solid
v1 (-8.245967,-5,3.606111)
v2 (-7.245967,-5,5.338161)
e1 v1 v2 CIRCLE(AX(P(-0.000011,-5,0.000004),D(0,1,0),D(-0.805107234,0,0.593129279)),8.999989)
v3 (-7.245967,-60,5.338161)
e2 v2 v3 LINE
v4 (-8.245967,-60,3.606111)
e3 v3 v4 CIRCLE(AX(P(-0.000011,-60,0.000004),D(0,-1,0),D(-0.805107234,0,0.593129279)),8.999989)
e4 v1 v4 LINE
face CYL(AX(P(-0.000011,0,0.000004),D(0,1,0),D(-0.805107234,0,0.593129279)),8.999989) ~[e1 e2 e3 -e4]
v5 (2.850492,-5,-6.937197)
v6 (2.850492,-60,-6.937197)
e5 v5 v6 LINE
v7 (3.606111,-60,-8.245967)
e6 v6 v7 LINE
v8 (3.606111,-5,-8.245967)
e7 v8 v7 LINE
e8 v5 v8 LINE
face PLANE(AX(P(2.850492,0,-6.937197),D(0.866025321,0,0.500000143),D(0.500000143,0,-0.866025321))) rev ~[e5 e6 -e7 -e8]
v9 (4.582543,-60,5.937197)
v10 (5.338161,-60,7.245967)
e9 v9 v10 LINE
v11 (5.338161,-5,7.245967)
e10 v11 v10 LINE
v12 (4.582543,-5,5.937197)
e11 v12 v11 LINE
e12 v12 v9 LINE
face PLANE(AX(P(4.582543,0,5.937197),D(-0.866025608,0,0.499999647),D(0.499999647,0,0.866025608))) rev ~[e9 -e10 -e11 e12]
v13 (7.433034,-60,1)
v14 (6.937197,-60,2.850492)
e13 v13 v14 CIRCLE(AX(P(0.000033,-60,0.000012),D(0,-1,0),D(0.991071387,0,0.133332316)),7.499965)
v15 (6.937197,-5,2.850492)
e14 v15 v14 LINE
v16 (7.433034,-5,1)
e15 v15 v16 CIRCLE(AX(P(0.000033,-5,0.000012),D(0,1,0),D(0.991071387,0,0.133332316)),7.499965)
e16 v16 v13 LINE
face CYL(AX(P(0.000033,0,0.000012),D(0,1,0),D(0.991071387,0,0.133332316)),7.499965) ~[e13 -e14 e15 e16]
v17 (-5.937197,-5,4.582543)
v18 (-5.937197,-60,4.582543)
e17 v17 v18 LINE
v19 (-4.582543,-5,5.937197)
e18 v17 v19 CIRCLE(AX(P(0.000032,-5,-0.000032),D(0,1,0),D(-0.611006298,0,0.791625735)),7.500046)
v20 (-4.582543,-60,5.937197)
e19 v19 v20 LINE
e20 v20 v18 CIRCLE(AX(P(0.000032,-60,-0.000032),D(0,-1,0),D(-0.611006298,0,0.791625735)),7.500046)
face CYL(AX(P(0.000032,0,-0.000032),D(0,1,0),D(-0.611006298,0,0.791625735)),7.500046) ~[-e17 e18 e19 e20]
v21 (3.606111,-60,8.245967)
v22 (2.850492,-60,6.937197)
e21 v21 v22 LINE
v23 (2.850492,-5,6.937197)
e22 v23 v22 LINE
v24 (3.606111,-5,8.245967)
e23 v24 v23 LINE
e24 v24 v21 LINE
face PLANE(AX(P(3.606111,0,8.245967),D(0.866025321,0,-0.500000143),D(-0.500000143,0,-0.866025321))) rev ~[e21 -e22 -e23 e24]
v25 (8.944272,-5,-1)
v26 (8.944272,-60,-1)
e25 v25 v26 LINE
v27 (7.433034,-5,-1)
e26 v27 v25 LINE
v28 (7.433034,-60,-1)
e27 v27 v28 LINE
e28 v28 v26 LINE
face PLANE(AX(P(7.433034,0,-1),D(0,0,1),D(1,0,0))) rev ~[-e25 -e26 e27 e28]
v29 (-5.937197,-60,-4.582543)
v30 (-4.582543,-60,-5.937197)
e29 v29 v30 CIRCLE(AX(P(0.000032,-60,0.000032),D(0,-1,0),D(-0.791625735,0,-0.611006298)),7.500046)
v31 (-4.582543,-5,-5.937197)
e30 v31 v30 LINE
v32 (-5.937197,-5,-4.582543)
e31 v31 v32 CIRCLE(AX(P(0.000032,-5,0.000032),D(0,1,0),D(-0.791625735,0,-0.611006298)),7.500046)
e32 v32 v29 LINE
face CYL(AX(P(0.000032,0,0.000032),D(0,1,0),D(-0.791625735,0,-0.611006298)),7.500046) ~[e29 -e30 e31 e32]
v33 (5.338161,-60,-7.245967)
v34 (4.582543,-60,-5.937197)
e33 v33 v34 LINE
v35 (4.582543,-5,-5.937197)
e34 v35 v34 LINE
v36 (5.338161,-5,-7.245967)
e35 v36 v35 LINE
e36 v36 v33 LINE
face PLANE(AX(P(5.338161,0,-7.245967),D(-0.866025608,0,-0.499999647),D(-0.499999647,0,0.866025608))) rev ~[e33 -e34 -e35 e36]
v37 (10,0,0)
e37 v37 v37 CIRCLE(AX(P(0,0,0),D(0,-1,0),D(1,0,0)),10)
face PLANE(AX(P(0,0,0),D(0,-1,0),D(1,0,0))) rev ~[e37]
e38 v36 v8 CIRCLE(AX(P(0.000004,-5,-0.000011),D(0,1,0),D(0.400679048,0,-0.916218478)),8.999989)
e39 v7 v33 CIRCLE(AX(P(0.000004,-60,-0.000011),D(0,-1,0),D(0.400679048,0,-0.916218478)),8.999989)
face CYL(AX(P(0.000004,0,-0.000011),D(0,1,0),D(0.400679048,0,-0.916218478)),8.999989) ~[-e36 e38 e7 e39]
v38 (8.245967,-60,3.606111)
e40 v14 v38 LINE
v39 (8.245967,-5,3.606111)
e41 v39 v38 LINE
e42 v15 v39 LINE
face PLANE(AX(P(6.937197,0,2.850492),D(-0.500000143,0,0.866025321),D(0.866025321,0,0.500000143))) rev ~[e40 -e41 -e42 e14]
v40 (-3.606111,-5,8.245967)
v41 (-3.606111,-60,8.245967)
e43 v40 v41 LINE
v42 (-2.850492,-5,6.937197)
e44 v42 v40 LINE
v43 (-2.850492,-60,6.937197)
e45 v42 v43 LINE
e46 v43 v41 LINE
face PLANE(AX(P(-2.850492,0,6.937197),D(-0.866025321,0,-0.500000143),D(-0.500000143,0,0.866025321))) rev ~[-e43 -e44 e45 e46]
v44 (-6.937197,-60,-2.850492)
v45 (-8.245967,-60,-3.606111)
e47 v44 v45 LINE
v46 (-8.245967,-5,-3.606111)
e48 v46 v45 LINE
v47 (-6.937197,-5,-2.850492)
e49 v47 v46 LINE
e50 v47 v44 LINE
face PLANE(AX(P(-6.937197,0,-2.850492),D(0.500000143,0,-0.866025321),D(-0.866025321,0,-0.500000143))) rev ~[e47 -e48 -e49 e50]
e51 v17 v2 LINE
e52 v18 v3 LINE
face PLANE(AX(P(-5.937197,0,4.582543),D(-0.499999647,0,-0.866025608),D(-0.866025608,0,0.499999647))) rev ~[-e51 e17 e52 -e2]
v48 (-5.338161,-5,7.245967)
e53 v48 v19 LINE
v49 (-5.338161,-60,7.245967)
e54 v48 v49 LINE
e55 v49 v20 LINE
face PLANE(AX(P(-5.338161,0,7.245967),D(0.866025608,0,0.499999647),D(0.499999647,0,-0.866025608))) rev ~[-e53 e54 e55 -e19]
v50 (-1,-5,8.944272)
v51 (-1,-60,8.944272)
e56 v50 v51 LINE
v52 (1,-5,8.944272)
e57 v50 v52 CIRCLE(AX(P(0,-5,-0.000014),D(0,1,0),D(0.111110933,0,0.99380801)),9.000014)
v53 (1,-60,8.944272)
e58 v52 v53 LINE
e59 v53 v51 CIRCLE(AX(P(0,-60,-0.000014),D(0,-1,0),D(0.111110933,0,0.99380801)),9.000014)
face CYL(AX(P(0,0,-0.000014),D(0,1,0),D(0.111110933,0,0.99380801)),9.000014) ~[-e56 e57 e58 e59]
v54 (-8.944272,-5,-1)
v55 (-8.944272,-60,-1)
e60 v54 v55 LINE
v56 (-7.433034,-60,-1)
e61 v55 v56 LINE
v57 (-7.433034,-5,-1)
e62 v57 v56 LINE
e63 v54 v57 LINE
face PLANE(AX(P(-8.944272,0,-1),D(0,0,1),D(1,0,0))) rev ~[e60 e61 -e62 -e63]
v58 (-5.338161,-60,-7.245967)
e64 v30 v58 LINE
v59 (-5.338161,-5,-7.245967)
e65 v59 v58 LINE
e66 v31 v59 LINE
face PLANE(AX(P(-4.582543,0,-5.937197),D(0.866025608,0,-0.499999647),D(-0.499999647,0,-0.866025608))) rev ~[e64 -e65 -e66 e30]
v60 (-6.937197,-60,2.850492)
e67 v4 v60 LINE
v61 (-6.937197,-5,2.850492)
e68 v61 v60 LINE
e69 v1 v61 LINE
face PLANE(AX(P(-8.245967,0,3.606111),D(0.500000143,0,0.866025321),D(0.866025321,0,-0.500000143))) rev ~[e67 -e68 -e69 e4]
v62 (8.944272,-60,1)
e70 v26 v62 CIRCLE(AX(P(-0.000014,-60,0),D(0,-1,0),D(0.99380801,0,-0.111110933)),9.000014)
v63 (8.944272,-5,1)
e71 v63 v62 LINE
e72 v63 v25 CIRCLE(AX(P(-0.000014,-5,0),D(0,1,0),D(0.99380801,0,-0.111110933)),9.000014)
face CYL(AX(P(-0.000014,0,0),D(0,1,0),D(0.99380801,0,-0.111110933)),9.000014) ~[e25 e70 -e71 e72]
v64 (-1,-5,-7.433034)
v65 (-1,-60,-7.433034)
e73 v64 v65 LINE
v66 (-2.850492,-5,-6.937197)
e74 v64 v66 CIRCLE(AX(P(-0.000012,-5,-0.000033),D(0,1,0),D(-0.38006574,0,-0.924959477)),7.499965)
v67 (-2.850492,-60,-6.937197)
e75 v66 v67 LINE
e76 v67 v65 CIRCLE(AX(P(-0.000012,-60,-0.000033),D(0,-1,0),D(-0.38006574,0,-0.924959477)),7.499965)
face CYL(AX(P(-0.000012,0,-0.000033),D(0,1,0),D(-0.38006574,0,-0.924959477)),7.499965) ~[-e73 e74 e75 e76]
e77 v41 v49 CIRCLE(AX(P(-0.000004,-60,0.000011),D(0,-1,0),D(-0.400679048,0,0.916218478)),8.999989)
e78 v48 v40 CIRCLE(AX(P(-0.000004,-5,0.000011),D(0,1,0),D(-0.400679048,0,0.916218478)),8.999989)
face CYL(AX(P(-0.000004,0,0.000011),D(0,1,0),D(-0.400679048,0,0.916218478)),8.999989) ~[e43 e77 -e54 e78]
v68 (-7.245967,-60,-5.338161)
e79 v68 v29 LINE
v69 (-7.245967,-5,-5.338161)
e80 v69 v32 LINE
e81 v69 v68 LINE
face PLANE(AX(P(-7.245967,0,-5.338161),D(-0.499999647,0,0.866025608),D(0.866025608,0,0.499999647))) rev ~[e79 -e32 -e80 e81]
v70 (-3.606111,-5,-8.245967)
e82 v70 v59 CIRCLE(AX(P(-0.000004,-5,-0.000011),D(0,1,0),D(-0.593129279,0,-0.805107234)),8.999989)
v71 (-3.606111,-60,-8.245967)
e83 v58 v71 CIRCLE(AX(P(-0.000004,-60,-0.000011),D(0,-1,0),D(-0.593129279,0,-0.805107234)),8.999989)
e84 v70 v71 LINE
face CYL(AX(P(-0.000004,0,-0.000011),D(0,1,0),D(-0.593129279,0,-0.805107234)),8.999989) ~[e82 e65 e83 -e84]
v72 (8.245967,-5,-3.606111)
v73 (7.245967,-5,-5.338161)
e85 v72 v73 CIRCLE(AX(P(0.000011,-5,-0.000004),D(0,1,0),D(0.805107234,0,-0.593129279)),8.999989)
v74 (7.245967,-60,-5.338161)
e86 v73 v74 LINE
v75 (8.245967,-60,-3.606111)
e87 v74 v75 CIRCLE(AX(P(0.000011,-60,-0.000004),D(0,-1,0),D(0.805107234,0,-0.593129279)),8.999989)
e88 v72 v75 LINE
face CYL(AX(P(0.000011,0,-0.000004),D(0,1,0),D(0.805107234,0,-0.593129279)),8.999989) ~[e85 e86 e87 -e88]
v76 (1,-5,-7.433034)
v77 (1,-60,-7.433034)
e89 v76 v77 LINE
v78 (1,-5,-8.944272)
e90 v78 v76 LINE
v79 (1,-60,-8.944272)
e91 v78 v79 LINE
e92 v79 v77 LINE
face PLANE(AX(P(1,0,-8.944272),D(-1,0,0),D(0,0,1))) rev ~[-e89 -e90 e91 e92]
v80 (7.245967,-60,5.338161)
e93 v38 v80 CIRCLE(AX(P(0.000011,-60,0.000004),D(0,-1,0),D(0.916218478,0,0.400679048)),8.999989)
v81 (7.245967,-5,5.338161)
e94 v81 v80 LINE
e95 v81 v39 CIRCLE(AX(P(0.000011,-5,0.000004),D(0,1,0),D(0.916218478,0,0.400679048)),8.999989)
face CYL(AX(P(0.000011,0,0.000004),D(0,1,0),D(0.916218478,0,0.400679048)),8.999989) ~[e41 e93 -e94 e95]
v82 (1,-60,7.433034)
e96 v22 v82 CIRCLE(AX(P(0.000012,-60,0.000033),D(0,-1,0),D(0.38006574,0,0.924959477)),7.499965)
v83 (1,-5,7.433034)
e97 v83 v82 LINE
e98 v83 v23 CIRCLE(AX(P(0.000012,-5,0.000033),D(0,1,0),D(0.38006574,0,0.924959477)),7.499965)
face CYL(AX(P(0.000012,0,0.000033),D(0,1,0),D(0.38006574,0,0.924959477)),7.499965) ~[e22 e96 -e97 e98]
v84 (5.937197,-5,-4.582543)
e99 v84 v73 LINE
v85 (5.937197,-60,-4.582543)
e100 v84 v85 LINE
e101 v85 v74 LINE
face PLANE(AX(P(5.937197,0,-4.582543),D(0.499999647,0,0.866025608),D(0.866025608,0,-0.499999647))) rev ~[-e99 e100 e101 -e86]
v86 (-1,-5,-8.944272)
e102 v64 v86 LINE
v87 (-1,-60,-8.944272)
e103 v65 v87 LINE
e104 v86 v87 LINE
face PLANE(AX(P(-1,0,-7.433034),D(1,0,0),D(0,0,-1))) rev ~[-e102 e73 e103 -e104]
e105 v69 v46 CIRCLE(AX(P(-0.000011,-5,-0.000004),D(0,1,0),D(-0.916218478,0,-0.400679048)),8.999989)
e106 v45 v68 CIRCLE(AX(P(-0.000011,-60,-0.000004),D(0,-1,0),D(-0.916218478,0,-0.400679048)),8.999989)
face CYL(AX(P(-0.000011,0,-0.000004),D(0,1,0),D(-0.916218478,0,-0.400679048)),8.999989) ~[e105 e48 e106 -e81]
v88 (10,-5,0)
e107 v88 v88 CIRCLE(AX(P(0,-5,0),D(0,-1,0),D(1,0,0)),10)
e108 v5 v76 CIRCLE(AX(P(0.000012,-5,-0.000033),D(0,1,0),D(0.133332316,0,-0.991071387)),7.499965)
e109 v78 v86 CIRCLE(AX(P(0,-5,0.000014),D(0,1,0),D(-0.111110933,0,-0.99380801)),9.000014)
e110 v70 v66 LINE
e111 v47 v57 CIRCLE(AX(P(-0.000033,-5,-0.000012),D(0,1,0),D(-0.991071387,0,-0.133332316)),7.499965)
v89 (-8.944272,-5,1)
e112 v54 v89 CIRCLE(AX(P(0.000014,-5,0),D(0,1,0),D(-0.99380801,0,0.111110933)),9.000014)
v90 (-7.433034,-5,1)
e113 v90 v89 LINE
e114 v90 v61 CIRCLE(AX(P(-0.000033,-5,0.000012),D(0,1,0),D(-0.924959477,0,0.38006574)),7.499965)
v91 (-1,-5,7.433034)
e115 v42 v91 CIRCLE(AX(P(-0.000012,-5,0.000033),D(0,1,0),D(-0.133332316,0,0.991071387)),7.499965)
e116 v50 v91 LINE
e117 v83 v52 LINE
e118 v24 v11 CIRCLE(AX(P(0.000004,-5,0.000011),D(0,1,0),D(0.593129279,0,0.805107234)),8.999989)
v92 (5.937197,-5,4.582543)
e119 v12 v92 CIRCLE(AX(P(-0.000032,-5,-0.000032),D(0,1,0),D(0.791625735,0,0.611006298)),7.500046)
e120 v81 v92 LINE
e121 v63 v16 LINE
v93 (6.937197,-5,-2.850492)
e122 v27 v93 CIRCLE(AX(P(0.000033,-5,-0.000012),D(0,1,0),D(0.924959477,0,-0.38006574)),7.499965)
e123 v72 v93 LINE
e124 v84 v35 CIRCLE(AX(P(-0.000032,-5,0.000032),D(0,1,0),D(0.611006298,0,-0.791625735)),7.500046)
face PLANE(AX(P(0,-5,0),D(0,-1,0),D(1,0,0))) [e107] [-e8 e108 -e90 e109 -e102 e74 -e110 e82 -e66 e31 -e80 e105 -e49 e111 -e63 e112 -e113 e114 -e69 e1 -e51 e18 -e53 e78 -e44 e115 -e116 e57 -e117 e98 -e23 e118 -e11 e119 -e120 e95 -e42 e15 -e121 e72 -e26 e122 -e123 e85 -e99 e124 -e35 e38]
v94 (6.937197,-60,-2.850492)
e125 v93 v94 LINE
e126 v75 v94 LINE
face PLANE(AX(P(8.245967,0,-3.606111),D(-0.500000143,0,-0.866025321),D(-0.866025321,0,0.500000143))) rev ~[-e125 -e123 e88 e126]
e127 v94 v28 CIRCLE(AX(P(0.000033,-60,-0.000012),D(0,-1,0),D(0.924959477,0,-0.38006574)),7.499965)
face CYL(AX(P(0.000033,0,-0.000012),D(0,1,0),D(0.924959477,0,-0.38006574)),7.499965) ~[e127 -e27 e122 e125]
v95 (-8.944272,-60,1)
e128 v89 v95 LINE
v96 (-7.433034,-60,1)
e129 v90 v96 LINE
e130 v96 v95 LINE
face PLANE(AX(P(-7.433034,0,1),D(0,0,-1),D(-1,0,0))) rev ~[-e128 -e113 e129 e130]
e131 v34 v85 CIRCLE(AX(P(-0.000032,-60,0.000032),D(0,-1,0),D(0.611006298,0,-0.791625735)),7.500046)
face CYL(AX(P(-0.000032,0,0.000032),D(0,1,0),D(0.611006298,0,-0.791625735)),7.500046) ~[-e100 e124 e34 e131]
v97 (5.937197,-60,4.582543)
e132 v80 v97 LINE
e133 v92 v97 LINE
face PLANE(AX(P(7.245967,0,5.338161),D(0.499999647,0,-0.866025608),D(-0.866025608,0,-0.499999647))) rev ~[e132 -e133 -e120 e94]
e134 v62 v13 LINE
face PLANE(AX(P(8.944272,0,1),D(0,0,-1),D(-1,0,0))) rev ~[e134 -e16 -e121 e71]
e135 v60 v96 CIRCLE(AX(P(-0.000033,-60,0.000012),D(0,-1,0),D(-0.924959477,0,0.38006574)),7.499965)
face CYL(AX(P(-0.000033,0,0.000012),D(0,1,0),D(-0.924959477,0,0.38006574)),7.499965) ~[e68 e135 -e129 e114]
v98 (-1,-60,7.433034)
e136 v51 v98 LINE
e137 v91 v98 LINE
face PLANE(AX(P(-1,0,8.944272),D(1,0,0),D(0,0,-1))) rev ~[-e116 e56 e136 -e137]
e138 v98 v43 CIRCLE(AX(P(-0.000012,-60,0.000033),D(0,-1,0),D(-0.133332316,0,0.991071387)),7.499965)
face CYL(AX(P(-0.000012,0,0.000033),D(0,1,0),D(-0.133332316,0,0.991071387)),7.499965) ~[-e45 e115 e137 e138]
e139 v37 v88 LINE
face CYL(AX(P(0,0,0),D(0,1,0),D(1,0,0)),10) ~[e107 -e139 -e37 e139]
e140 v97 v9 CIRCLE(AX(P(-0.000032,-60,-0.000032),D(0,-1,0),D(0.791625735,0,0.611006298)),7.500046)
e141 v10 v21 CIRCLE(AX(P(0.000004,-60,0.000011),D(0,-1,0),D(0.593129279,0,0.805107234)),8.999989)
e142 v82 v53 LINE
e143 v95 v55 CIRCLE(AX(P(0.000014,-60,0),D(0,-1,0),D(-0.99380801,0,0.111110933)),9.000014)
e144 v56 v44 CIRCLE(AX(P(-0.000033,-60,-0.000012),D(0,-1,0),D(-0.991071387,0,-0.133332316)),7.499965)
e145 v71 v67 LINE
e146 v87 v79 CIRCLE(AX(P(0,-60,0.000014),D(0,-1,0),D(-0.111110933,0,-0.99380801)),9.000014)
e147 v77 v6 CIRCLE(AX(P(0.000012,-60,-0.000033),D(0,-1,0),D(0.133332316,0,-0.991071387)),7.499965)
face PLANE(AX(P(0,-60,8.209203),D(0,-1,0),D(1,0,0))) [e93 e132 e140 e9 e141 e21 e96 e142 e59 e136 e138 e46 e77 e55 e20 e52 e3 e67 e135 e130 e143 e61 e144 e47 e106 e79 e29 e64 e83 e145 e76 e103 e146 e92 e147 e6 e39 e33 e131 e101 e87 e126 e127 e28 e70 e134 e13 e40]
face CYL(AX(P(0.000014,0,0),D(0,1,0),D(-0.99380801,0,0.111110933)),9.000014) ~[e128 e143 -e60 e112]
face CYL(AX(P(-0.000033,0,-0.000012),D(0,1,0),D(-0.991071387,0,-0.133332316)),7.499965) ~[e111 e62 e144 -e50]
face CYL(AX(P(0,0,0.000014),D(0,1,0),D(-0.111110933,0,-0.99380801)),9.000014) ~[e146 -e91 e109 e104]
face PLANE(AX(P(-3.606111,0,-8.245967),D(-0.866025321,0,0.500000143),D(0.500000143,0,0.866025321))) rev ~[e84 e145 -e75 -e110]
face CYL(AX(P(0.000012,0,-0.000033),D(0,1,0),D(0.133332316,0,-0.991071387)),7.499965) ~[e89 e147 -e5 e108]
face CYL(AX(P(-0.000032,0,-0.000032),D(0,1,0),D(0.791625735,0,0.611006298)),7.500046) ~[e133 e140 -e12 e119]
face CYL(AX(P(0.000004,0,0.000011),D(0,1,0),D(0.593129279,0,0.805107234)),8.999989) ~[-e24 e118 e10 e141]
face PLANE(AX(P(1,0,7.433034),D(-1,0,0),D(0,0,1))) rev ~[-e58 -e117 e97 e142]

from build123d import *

# Parameters (mm, degrees)
F1_DEPTH = 60
F0_R     = 10
F2_DEPTH = 5


with BuildPart() as f1:
    # F0 (on Front) → F1 (new body)
    with BuildSketch(Plane.XZ):
        with BuildLine():
            Line((1, 7.433034), (1, 8.944272))
            ThreePointArc((1, 8.944272), (0, 9), (-1, 8.944272))
            Line((-1, 8.944272), (-1, 7.433034))
            ThreePointArc((-1, 7.433034), (0, 7.5), (1, 7.433034))
        make_face()
        with BuildLine():
            Line((3.606111, 8.245967), (2.850492, 6.937197))
            ThreePointArc((2.850492, 6.937197), (3.75, 6.495191), (4.582543, 5.937197))
            Line((4.582543, 5.937197), (5.338161, 7.245967))
            ThreePointArc((5.338161, 7.245967), (4.5, 7.794229), (3.606111, 8.245967))
        make_face()
        with BuildLine():
            Line((7.245967, 5.338161), (5.937197, 4.582543))
            ThreePointArc((5.937197, 4.582543), (6.495191, 3.75), (6.937197, 2.850492))
            Line((6.937197, 2.850492), (8.245967, 3.606111))
            ThreePointArc((8.245967, 3.606111), (7.794229, 4.5), (7.245967, 5.338161))
        make_face()
        with BuildLine():
            Line((8.944272, 1), (7.433034, 1))
            ThreePointArc((7.433034, 1), (7.48324, 0.50112), (7.5, 0))
            ThreePointArc((7.5, 0), (7.48324, -0.50112), (7.433034, -1))
            Line((7.433034, -1), (8.944272, -1))
            ThreePointArc((8.944272, -1), (9, 0), (8.944272, 1))
        make_face()
        with BuildLine():
            Line((8.245967, -3.606111), (6.937197, -2.850492))
            ThreePointArc((6.937197, -2.850492), (6.495191, -3.75), (5.937197, -4.582543))
            Line((5.937197, -4.582543), (7.245967, -5.338161))
            ThreePointArc((7.245967, -5.338161), (7.794229, -4.5), (8.245967, -3.606111))
        make_face()
        with BuildLine():
            Line((5.338161, -7.245967), (4.582543, -5.937197))
            ThreePointArc((4.582543, -5.937197), (3.75, -6.495191), (2.850492, -6.937197))
            Line((2.850492, -6.937197), (3.606111, -8.245967))
            ThreePointArc((3.606111, -8.245967), (4.5, -7.794229), (5.338161, -7.245967))
        make_face()
        with BuildLine():
            ThreePointArc((1, -7.433034), (0, -7.5), (-1, -7.433034))
            Line((-1, -7.433034), (-1, -8.944272))
            ThreePointArc((-1, -8.944272), (0, -9), (1, -8.944272))
            Line((1, -8.944272), (1, -7.433034))
        make_face()
        with BuildLine():
            ThreePointArc((-2.850492, -6.937197), (-3.75, -6.495191), (-4.582543, -5.937197))
            Line((-4.582543, -5.937197), (-5.338161, -7.245967))
            ThreePointArc((-5.338161, -7.245967), (-4.5, -7.794229), (-3.606111, -8.245967))
            Line((-3.606111, -8.245967), (-2.850492, -6.937197))
        make_face()
        with BuildLine():
            ThreePointArc((-5.937197, -4.582543), (-6.495191, -3.75), (-6.937197, -2.850492))
            Line((-6.937197, -2.850492), (-8.245967, -3.606111))
            ThreePointArc((-8.245967, -3.606111), (-7.794229, -4.5), (-7.245967, -5.338161))
            Line((-7.245967, -5.338161), (-5.937197, -4.582543))
        make_face()
        with BuildLine():
            ThreePointArc((-7.433034, -1), (-7.5, 0), (-7.433034, 1))
            Line((-7.433034, 1), (-8.944272, 1))
            ThreePointArc((-8.944272, 1), (-9, 0), (-8.944272, -1))
            Line((-8.944272, -1), (-7.433034, -1))
        make_face()
        with BuildLine():
            ThreePointArc((-6.937197, 2.850492), (-6.495191, 3.75), (-5.937197, 4.582543))
            Line((-5.937197, 4.582543), (-7.245967, 5.338161))
            ThreePointArc((-7.245967, 5.338161), (-7.794229, 4.5), (-8.245967, 3.606111))
            Line((-8.245967, 3.606111), (-6.937197, 2.850492))
        make_face()
        with BuildLine():
            ThreePointArc((-4.582543, 5.937197), (-3.75, 6.495191), (-2.850492, 6.937197))
            Line((-2.850492, 6.937197), (-3.606111, 8.245967))
            ThreePointArc((-3.606111, 8.245967), (-4.5, 7.794229), (-5.338161, 7.245967))
            Line((-5.338161, 7.245967), (-4.582543, 5.937197))
        make_face()
        with BuildLine():
            ThreePointArc((2.850492, 6.937197), (1.941143, 7.244444), (1, 7.433034))
            ThreePointArc((1, 7.433034), (0, 7.5), (-1, 7.433034))
            ThreePointArc((-1, 7.433034), (-1.941143, 7.244444), (-2.850492, 6.937197))
            ThreePointArc((-2.850492, 6.937197), (-3.75, 6.495191), (-4.582543, 5.937197))
            ThreePointArc((-4.582543, 5.937197), (-5.303301, 5.303301), (-5.937197, 4.582543))
            ThreePointArc((-5.937197, 4.582543), (-6.495191, 3.75), (-6.937197, 2.850492))
            ThreePointArc((-6.937197, 2.850492), (-7.244444, 1.941143), (-7.433034, 1))
            ThreePointArc((-7.433034, 1), (-7.5, 0), (-7.433034, -1))
            ThreePointArc((-7.433034, -1), (-7.244444, -1.941143), (-6.937197, -2.850492))
            ThreePointArc((-6.937197, -2.850492), (-6.495191, -3.75), (-5.937197, -4.582543))
            ThreePointArc((-5.937197, -4.582543), (-5.303301, -5.303301), (-4.582543, -5.937197))
            ThreePointArc((-4.582543, -5.937197), (-3.75, -6.495191), (-2.850492, -6.937197))
            ThreePointArc((-2.850492, -6.937197), (-1.941143, -7.244444), (-1, -7.433034))
            ThreePointArc((-1, -7.433034), (0, -7.5), (1, -7.433034))
            ThreePointArc((1, -7.433034), (1.941143, -7.244444), (2.850492, -6.937197))
            ThreePointArc((2.850492, -6.937197), (3.75, -6.495191), (4.582543, -5.937197))
            ThreePointArc((4.582543, -5.937197), (5.303301, -5.303301), (5.937197, -4.582543))
            ThreePointArc((5.937197, -4.582543), (6.495191, -3.75), (6.937197, -2.850492))
            ThreePointArc((6.937197, -2.850492), (7.244444, -1.941143), (7.433034, -1))
            ThreePointArc((7.433034, -1), (7.48324, -0.50112), (7.5, 0))
            ThreePointArc((7.5, 0), (7.48324, 0.50112), (7.433034, 1))
            ThreePointArc((7.433034, 1), (7.244444, 1.941143), (6.937197, 2.850492))
            ThreePointArc((6.937197, 2.850492), (6.495191, 3.75), (5.937197, 4.582543))
            ThreePointArc((5.937197, 4.582543), (5.303301, 5.303301), (4.582543, 5.937197))
            ThreePointArc((4.582543, 5.937197), (3.75, 6.495191), (2.850492, 6.937197))
        make_face()
    extrude(amount=F1_DEPTH)

    # F0 (on Front) → F2 (join)
    with BuildSketch(Plane.XZ):
        Circle(F0_R)
        with BuildLine():
            ThreePointArc((-1, 8.944272), (0, 9), (1, 8.944272))
            Line((1, 8.944272), (1, 7.433034))
            ThreePointArc((1, 7.433034), (1.941143, 7.244444), (2.850492, 6.937197))
            Line((2.850492, 6.937197), (3.606111, 8.245967))
            ThreePointArc((3.606111, 8.245967), (4.5, 7.794229), (5.338161, 7.245967))
            Line((5.338161, 7.245967), (4.582543, 5.937197))
            ThreePointArc((4.582543, 5.937197), (5.303301, 5.303301), (5.937197, 4.582543))
            Line((5.937197, 4.582543), (7.245967, 5.338161))
            ThreePointArc((7.245967, 5.338161), (7.794229, 4.5), (8.245967, 3.606111))
            Line((8.245967, 3.606111), (6.937197, 2.850492))
            ThreePointArc((6.937197, 2.850492), (7.244444, 1.941143), (7.433034, 1))
            Line((7.433034, 1), (8.944272, 1))
            ThreePointArc((8.944272, 1), (9, 0), (8.944272, -1))
            Line((8.944272, -1), (7.433034, -1))
            ThreePointArc((7.433034, -1), (7.244444, -1.941143), (6.937197, -2.850492))
            Line((6.937197, -2.850492), (8.245967, -3.606111))
            ThreePointArc((8.245967, -3.606111), (7.794229, -4.5), (7.245967, -5.338161))
            Line((7.245967, -5.338161), (5.937197, -4.582543))
            ThreePointArc((5.937197, -4.582543), (5.303301, -5.303301), (4.582543, -5.937197))
            Line((4.582543, -5.937197), (5.338161, -7.245967))
            ThreePointArc((5.338161, -7.245967), (4.5, -7.794229), (3.606111, -8.245967))
            Line((3.606111, -8.245967), (2.850492, -6.937197))
            ThreePointArc((2.850492, -6.937197), (1.941143, -7.244444), (1, -7.433034))
            Line((1, -7.433034), (1, -8.944272))
            ThreePointArc((1, -8.944272), (0, -9), (-1, -8.944272))
            Line((-1, -8.944272), (-1, -7.433034))
            ThreePointArc((-1, -7.433034), (-1.941143, -7.244444), (-2.850492, -6.937197))
            Line((-2.850492, -6.937197), (-3.606111, -8.245967))
            ThreePointArc((-3.606111, -8.245967), (-4.5, -7.794229), (-5.338161, -7.245967))
            Line((-5.338161, -7.245967), (-4.582543, -5.937197))
            ThreePointArc((-4.582543, -5.937197), (-5.303301, -5.303301), (-5.937197, -4.582543))
            Line((-5.937197, -4.582543), (-7.245967, -5.338161))
            ThreePointArc((-7.245967, -5.338161), (-7.794229, -4.5), (-8.245967, -3.606111))
            Line((-8.245967, -3.606111), (-6.937197, -2.850492))
            ThreePointArc((-6.937197, -2.850492), (-7.244444, -1.941143), (-7.433034, -1))
            Line((-7.433034, -1), (-8.944272, -1))
            ThreePointArc((-8.944272, -1), (-9, 0), (-8.944272, 1))
            Line((-8.944272, 1), (-7.433034, 1))
            ThreePointArc((-7.433034, 1), (-7.244444, 1.941143), (-6.937197, 2.850492))
            Line((-6.937197, 2.850492), (-8.245967, 3.606111))
            ThreePointArc((-8.245967, 3.606111), (-7.794229, 4.5), (-7.245967, 5.338161))
            Line((-7.245967, 5.338161), (-5.937197, 4.582543))
            ThreePointArc((-5.937197, 4.582543), (-5.303301, 5.303301), (-4.582543, 5.937197))
            Line((-4.582543, 5.937197), (-5.338161, 7.245967))
            ThreePointArc((-5.338161, 7.245967), (-4.5, 7.794229), (-3.606111, 8.245967))
            Line((-3.606111, 8.245967), (-2.850492, 6.937197))
            ThreePointArc((-2.850492, 6.937197), (-1.941143, 7.244444), (-1, 7.433034))
            Line((-1, 7.433034), (-1, 8.944272))
        make_face(mode=Mode.SUBTRACT)
        with BuildLine():
            ThreePointArc((2.850492, 6.937197), (1.941143, 7.244444), (1, 7.433034))
            ThreePointArc((1, 7.433034), (0, 7.5), (-1, 7.433034))
            ThreePointArc((-1, 7.433034), (-1.941143, 7.244444), (-2.850492, 6.937197))
            ThreePointArc((-2.850492, 6.937197), (-3.75, 6.495191), (-4.582543, 5.937197))
            ThreePointArc((-4.582543, 5.937197), (-5.303301, 5.303301), (-5.937197, 4.582543))
            ThreePointArc((-5.937197, 4.582543), (-6.495191, 3.75), (-6.937197, 2.850492))
            ThreePointArc((-6.937197, 2.850492), (-7.244444, 1.941143), (-7.433034, 1))
            ThreePointArc((-7.433034, 1), (-7.5, 0), (-7.433034, -1))
            ThreePointArc((-7.433034, -1), (-7.244444, -1.941143), (-6.937197, -2.850492))
            ThreePointArc((-6.937197, -2.850492), (-6.495191, -3.75), (-5.937197, -4.582543))
            ThreePointArc((-5.937197, -4.582543), (-5.303301, -5.303301), (-4.582543, -5.937197))
            ThreePointArc((-4.582543, -5.937197), (-3.75, -6.495191), (-2.850492, -6.937197))
            ThreePointArc((-2.850492, -6.937197), (-1.941143, -7.244444), (-1, -7.433034))
            ThreePointArc((-1, -7.433034), (0, -7.5), (1, -7.433034))
            ThreePointArc((1, -7.433034), (1.941143, -7.244444), (2.850492, -6.937197))
            ThreePointArc((2.850492, -6.937197), (3.75, -6.495191), (4.582543, -5.937197))
            ThreePointArc((4.582543, -5.937197), (5.303301, -5.303301), (5.937197, -4.582543))
            ThreePointArc((5.937197, -4.582543), (6.495191, -3.75), (6.937197, -2.850492))
            ThreePointArc((6.937197, -2.850492), (7.244444, -1.941143), (7.433034, -1))
            ThreePointArc((7.433034, -1), (7.48324, -0.50112), (7.5, 0))
            ThreePointArc((7.5, 0), (7.48324, 0.50112), (7.433034, 1))
            ThreePointArc((7.433034, 1), (7.244444, 1.941143), (6.937197, 2.850492))
            ThreePointArc((6.937197, 2.850492), (6.495191, 3.75), (5.937197, 4.582543))
            ThreePointArc((5.937197, 4.582543), (5.303301, 5.303301), (4.582543, 5.937197))
            ThreePointArc((4.582543, 5.937197), (3.75, 6.495191), (2.850492, 6.937197))
        make_face()
        with BuildLine():
            ThreePointArc((1, -7.433034), (0, -7.5), (-1, -7.433034))
            Line((-1, -7.433034), (-1, -8.944272))
            ThreePointArc((-1, -8.944272), (0, -9), (1, -8.944272))
            Line((1, -8.944272), (1, -7.433034))
        make_face()
        with BuildLine():
            Line((5.338161, -7.245967), (4.582543, -5.937197))
            ThreePointArc((4.582543, -5.937197), (3.75, -6.495191), (2.850492, -6.937197))
            Line((2.850492, -6.937197), (3.606111, -8.245967))
            ThreePointArc((3.606111, -8.245967), (4.5, -7.794229), (5.338161, -7.245967))
        make_face()
        with BuildLine():
            Line((8.245967, -3.606111), (6.937197, -2.850492))
            ThreePointArc((6.937197, -2.850492), (6.495191, -3.75), (5.937197, -4.582543))
            Line((5.937197, -4.582543), (7.245967, -5.338161))
            ThreePointArc((7.245967, -5.338161), (7.794229, -4.5), (8.245967, -3.606111))
        make_face()
        with BuildLine():
            Line((8.944272, 1), (7.433034, 1))
            ThreePointArc((7.433034, 1), (7.48324, 0.50112), (7.5, 0))
            ThreePointArc((7.5, 0), (7.48324, -0.50112), (7.433034, -1))
            Line((7.433034, -1), (8.944272, -1))
            ThreePointArc((8.944272, -1), (9, 0), (8.944272, 1))
        make_face()
        with BuildLine():
            Line((7.245967, 5.338161), (5.937197, 4.582543))
            ThreePointArc((5.937197, 4.582543), (6.495191, 3.75), (6.937197, 2.850492))
            Line((6.937197, 2.850492), (8.245967, 3.606111))
            ThreePointArc((8.245967, 3.606111), (7.794229, 4.5), (7.245967, 5.338161))
        make_face()
        with BuildLine():
            Line((3.606111, 8.245967), (2.850492, 6.937197))
            ThreePointArc((2.850492, 6.937197), (3.75, 6.495191), (4.582543, 5.937197))
            Line((4.582543, 5.937197), (5.338161, 7.245967))
            ThreePointArc((5.338161, 7.245967), (4.5, 7.794229), (3.606111, 8.245967))
        make_face()
        with BuildLine():
            Line((1, 7.433034), (1, 8.944272))
            ThreePointArc((1, 8.944272), (0, 9), (-1, 8.944272))
            Line((-1, 8.944272), (-1, 7.433034))
            ThreePointArc((-1, 7.433034), (0, 7.5), (1, 7.433034))
        make_face()
        with BuildLine():
            ThreePointArc((-4.582543, 5.937197), (-3.75, 6.495191), (-2.850492, 6.937197))
            Line((-2.850492, 6.937197), (-3.606111, 8.245967))
            ThreePointArc((-3.606111, 8.245967), (-4.5, 7.794229), (-5.338161, 7.245967))
            Line((-5.338161, 7.245967), (-4.582543, 5.937197))
        make_face()
        with BuildLine():
            ThreePointArc((-6.937197, 2.850492), (-6.495191, 3.75), (-5.937197, 4.582543))
            Line((-5.937197, 4.582543), (-7.245967, 5.338161))
            ThreePointArc((-7.245967, 5.338161), (-7.794229, 4.5), (-8.245967, 3.606111))
            Line((-8.245967, 3.606111), (-6.937197, 2.850492))
        make_face()
        with BuildLine():
            ThreePointArc((-7.433034, -1), (-7.5, 0), (-7.433034, 1))
            Line((-7.433034, 1), (-8.944272, 1))
            ThreePointArc((-8.944272, 1), (-9, 0), (-8.944272, -1))
            Line((-8.944272, -1), (-7.433034, -1))
        make_face()
        with BuildLine():
            ThreePointArc((-5.937197, -4.582543), (-6.495191, -3.75), (-6.937197, -2.850492))
            Line((-6.937197, -2.850492), (-8.245967, -3.606111))
            ThreePointArc((-8.245967, -3.606111), (-7.794229, -4.5), (-7.245967, -5.338161))
            Line((-7.245967, -5.338161), (-5.937197, -4.582543))
        make_face()
        with BuildLine():
            ThreePointArc((-2.850492, -6.937197), (-3.75, -6.495191), (-4.582543, -5.937197))
            Line((-4.582543, -5.937197), (-5.338161, -7.245967))
            ThreePointArc((-5.338161, -7.245967), (-4.5, -7.794229), (-3.606111, -8.245967))
            Line((-3.606111, -8.245967), (-2.850492, -6.937197))
        make_face()
    extrude(amount=F2_DEPTH)


solid = f1.part
